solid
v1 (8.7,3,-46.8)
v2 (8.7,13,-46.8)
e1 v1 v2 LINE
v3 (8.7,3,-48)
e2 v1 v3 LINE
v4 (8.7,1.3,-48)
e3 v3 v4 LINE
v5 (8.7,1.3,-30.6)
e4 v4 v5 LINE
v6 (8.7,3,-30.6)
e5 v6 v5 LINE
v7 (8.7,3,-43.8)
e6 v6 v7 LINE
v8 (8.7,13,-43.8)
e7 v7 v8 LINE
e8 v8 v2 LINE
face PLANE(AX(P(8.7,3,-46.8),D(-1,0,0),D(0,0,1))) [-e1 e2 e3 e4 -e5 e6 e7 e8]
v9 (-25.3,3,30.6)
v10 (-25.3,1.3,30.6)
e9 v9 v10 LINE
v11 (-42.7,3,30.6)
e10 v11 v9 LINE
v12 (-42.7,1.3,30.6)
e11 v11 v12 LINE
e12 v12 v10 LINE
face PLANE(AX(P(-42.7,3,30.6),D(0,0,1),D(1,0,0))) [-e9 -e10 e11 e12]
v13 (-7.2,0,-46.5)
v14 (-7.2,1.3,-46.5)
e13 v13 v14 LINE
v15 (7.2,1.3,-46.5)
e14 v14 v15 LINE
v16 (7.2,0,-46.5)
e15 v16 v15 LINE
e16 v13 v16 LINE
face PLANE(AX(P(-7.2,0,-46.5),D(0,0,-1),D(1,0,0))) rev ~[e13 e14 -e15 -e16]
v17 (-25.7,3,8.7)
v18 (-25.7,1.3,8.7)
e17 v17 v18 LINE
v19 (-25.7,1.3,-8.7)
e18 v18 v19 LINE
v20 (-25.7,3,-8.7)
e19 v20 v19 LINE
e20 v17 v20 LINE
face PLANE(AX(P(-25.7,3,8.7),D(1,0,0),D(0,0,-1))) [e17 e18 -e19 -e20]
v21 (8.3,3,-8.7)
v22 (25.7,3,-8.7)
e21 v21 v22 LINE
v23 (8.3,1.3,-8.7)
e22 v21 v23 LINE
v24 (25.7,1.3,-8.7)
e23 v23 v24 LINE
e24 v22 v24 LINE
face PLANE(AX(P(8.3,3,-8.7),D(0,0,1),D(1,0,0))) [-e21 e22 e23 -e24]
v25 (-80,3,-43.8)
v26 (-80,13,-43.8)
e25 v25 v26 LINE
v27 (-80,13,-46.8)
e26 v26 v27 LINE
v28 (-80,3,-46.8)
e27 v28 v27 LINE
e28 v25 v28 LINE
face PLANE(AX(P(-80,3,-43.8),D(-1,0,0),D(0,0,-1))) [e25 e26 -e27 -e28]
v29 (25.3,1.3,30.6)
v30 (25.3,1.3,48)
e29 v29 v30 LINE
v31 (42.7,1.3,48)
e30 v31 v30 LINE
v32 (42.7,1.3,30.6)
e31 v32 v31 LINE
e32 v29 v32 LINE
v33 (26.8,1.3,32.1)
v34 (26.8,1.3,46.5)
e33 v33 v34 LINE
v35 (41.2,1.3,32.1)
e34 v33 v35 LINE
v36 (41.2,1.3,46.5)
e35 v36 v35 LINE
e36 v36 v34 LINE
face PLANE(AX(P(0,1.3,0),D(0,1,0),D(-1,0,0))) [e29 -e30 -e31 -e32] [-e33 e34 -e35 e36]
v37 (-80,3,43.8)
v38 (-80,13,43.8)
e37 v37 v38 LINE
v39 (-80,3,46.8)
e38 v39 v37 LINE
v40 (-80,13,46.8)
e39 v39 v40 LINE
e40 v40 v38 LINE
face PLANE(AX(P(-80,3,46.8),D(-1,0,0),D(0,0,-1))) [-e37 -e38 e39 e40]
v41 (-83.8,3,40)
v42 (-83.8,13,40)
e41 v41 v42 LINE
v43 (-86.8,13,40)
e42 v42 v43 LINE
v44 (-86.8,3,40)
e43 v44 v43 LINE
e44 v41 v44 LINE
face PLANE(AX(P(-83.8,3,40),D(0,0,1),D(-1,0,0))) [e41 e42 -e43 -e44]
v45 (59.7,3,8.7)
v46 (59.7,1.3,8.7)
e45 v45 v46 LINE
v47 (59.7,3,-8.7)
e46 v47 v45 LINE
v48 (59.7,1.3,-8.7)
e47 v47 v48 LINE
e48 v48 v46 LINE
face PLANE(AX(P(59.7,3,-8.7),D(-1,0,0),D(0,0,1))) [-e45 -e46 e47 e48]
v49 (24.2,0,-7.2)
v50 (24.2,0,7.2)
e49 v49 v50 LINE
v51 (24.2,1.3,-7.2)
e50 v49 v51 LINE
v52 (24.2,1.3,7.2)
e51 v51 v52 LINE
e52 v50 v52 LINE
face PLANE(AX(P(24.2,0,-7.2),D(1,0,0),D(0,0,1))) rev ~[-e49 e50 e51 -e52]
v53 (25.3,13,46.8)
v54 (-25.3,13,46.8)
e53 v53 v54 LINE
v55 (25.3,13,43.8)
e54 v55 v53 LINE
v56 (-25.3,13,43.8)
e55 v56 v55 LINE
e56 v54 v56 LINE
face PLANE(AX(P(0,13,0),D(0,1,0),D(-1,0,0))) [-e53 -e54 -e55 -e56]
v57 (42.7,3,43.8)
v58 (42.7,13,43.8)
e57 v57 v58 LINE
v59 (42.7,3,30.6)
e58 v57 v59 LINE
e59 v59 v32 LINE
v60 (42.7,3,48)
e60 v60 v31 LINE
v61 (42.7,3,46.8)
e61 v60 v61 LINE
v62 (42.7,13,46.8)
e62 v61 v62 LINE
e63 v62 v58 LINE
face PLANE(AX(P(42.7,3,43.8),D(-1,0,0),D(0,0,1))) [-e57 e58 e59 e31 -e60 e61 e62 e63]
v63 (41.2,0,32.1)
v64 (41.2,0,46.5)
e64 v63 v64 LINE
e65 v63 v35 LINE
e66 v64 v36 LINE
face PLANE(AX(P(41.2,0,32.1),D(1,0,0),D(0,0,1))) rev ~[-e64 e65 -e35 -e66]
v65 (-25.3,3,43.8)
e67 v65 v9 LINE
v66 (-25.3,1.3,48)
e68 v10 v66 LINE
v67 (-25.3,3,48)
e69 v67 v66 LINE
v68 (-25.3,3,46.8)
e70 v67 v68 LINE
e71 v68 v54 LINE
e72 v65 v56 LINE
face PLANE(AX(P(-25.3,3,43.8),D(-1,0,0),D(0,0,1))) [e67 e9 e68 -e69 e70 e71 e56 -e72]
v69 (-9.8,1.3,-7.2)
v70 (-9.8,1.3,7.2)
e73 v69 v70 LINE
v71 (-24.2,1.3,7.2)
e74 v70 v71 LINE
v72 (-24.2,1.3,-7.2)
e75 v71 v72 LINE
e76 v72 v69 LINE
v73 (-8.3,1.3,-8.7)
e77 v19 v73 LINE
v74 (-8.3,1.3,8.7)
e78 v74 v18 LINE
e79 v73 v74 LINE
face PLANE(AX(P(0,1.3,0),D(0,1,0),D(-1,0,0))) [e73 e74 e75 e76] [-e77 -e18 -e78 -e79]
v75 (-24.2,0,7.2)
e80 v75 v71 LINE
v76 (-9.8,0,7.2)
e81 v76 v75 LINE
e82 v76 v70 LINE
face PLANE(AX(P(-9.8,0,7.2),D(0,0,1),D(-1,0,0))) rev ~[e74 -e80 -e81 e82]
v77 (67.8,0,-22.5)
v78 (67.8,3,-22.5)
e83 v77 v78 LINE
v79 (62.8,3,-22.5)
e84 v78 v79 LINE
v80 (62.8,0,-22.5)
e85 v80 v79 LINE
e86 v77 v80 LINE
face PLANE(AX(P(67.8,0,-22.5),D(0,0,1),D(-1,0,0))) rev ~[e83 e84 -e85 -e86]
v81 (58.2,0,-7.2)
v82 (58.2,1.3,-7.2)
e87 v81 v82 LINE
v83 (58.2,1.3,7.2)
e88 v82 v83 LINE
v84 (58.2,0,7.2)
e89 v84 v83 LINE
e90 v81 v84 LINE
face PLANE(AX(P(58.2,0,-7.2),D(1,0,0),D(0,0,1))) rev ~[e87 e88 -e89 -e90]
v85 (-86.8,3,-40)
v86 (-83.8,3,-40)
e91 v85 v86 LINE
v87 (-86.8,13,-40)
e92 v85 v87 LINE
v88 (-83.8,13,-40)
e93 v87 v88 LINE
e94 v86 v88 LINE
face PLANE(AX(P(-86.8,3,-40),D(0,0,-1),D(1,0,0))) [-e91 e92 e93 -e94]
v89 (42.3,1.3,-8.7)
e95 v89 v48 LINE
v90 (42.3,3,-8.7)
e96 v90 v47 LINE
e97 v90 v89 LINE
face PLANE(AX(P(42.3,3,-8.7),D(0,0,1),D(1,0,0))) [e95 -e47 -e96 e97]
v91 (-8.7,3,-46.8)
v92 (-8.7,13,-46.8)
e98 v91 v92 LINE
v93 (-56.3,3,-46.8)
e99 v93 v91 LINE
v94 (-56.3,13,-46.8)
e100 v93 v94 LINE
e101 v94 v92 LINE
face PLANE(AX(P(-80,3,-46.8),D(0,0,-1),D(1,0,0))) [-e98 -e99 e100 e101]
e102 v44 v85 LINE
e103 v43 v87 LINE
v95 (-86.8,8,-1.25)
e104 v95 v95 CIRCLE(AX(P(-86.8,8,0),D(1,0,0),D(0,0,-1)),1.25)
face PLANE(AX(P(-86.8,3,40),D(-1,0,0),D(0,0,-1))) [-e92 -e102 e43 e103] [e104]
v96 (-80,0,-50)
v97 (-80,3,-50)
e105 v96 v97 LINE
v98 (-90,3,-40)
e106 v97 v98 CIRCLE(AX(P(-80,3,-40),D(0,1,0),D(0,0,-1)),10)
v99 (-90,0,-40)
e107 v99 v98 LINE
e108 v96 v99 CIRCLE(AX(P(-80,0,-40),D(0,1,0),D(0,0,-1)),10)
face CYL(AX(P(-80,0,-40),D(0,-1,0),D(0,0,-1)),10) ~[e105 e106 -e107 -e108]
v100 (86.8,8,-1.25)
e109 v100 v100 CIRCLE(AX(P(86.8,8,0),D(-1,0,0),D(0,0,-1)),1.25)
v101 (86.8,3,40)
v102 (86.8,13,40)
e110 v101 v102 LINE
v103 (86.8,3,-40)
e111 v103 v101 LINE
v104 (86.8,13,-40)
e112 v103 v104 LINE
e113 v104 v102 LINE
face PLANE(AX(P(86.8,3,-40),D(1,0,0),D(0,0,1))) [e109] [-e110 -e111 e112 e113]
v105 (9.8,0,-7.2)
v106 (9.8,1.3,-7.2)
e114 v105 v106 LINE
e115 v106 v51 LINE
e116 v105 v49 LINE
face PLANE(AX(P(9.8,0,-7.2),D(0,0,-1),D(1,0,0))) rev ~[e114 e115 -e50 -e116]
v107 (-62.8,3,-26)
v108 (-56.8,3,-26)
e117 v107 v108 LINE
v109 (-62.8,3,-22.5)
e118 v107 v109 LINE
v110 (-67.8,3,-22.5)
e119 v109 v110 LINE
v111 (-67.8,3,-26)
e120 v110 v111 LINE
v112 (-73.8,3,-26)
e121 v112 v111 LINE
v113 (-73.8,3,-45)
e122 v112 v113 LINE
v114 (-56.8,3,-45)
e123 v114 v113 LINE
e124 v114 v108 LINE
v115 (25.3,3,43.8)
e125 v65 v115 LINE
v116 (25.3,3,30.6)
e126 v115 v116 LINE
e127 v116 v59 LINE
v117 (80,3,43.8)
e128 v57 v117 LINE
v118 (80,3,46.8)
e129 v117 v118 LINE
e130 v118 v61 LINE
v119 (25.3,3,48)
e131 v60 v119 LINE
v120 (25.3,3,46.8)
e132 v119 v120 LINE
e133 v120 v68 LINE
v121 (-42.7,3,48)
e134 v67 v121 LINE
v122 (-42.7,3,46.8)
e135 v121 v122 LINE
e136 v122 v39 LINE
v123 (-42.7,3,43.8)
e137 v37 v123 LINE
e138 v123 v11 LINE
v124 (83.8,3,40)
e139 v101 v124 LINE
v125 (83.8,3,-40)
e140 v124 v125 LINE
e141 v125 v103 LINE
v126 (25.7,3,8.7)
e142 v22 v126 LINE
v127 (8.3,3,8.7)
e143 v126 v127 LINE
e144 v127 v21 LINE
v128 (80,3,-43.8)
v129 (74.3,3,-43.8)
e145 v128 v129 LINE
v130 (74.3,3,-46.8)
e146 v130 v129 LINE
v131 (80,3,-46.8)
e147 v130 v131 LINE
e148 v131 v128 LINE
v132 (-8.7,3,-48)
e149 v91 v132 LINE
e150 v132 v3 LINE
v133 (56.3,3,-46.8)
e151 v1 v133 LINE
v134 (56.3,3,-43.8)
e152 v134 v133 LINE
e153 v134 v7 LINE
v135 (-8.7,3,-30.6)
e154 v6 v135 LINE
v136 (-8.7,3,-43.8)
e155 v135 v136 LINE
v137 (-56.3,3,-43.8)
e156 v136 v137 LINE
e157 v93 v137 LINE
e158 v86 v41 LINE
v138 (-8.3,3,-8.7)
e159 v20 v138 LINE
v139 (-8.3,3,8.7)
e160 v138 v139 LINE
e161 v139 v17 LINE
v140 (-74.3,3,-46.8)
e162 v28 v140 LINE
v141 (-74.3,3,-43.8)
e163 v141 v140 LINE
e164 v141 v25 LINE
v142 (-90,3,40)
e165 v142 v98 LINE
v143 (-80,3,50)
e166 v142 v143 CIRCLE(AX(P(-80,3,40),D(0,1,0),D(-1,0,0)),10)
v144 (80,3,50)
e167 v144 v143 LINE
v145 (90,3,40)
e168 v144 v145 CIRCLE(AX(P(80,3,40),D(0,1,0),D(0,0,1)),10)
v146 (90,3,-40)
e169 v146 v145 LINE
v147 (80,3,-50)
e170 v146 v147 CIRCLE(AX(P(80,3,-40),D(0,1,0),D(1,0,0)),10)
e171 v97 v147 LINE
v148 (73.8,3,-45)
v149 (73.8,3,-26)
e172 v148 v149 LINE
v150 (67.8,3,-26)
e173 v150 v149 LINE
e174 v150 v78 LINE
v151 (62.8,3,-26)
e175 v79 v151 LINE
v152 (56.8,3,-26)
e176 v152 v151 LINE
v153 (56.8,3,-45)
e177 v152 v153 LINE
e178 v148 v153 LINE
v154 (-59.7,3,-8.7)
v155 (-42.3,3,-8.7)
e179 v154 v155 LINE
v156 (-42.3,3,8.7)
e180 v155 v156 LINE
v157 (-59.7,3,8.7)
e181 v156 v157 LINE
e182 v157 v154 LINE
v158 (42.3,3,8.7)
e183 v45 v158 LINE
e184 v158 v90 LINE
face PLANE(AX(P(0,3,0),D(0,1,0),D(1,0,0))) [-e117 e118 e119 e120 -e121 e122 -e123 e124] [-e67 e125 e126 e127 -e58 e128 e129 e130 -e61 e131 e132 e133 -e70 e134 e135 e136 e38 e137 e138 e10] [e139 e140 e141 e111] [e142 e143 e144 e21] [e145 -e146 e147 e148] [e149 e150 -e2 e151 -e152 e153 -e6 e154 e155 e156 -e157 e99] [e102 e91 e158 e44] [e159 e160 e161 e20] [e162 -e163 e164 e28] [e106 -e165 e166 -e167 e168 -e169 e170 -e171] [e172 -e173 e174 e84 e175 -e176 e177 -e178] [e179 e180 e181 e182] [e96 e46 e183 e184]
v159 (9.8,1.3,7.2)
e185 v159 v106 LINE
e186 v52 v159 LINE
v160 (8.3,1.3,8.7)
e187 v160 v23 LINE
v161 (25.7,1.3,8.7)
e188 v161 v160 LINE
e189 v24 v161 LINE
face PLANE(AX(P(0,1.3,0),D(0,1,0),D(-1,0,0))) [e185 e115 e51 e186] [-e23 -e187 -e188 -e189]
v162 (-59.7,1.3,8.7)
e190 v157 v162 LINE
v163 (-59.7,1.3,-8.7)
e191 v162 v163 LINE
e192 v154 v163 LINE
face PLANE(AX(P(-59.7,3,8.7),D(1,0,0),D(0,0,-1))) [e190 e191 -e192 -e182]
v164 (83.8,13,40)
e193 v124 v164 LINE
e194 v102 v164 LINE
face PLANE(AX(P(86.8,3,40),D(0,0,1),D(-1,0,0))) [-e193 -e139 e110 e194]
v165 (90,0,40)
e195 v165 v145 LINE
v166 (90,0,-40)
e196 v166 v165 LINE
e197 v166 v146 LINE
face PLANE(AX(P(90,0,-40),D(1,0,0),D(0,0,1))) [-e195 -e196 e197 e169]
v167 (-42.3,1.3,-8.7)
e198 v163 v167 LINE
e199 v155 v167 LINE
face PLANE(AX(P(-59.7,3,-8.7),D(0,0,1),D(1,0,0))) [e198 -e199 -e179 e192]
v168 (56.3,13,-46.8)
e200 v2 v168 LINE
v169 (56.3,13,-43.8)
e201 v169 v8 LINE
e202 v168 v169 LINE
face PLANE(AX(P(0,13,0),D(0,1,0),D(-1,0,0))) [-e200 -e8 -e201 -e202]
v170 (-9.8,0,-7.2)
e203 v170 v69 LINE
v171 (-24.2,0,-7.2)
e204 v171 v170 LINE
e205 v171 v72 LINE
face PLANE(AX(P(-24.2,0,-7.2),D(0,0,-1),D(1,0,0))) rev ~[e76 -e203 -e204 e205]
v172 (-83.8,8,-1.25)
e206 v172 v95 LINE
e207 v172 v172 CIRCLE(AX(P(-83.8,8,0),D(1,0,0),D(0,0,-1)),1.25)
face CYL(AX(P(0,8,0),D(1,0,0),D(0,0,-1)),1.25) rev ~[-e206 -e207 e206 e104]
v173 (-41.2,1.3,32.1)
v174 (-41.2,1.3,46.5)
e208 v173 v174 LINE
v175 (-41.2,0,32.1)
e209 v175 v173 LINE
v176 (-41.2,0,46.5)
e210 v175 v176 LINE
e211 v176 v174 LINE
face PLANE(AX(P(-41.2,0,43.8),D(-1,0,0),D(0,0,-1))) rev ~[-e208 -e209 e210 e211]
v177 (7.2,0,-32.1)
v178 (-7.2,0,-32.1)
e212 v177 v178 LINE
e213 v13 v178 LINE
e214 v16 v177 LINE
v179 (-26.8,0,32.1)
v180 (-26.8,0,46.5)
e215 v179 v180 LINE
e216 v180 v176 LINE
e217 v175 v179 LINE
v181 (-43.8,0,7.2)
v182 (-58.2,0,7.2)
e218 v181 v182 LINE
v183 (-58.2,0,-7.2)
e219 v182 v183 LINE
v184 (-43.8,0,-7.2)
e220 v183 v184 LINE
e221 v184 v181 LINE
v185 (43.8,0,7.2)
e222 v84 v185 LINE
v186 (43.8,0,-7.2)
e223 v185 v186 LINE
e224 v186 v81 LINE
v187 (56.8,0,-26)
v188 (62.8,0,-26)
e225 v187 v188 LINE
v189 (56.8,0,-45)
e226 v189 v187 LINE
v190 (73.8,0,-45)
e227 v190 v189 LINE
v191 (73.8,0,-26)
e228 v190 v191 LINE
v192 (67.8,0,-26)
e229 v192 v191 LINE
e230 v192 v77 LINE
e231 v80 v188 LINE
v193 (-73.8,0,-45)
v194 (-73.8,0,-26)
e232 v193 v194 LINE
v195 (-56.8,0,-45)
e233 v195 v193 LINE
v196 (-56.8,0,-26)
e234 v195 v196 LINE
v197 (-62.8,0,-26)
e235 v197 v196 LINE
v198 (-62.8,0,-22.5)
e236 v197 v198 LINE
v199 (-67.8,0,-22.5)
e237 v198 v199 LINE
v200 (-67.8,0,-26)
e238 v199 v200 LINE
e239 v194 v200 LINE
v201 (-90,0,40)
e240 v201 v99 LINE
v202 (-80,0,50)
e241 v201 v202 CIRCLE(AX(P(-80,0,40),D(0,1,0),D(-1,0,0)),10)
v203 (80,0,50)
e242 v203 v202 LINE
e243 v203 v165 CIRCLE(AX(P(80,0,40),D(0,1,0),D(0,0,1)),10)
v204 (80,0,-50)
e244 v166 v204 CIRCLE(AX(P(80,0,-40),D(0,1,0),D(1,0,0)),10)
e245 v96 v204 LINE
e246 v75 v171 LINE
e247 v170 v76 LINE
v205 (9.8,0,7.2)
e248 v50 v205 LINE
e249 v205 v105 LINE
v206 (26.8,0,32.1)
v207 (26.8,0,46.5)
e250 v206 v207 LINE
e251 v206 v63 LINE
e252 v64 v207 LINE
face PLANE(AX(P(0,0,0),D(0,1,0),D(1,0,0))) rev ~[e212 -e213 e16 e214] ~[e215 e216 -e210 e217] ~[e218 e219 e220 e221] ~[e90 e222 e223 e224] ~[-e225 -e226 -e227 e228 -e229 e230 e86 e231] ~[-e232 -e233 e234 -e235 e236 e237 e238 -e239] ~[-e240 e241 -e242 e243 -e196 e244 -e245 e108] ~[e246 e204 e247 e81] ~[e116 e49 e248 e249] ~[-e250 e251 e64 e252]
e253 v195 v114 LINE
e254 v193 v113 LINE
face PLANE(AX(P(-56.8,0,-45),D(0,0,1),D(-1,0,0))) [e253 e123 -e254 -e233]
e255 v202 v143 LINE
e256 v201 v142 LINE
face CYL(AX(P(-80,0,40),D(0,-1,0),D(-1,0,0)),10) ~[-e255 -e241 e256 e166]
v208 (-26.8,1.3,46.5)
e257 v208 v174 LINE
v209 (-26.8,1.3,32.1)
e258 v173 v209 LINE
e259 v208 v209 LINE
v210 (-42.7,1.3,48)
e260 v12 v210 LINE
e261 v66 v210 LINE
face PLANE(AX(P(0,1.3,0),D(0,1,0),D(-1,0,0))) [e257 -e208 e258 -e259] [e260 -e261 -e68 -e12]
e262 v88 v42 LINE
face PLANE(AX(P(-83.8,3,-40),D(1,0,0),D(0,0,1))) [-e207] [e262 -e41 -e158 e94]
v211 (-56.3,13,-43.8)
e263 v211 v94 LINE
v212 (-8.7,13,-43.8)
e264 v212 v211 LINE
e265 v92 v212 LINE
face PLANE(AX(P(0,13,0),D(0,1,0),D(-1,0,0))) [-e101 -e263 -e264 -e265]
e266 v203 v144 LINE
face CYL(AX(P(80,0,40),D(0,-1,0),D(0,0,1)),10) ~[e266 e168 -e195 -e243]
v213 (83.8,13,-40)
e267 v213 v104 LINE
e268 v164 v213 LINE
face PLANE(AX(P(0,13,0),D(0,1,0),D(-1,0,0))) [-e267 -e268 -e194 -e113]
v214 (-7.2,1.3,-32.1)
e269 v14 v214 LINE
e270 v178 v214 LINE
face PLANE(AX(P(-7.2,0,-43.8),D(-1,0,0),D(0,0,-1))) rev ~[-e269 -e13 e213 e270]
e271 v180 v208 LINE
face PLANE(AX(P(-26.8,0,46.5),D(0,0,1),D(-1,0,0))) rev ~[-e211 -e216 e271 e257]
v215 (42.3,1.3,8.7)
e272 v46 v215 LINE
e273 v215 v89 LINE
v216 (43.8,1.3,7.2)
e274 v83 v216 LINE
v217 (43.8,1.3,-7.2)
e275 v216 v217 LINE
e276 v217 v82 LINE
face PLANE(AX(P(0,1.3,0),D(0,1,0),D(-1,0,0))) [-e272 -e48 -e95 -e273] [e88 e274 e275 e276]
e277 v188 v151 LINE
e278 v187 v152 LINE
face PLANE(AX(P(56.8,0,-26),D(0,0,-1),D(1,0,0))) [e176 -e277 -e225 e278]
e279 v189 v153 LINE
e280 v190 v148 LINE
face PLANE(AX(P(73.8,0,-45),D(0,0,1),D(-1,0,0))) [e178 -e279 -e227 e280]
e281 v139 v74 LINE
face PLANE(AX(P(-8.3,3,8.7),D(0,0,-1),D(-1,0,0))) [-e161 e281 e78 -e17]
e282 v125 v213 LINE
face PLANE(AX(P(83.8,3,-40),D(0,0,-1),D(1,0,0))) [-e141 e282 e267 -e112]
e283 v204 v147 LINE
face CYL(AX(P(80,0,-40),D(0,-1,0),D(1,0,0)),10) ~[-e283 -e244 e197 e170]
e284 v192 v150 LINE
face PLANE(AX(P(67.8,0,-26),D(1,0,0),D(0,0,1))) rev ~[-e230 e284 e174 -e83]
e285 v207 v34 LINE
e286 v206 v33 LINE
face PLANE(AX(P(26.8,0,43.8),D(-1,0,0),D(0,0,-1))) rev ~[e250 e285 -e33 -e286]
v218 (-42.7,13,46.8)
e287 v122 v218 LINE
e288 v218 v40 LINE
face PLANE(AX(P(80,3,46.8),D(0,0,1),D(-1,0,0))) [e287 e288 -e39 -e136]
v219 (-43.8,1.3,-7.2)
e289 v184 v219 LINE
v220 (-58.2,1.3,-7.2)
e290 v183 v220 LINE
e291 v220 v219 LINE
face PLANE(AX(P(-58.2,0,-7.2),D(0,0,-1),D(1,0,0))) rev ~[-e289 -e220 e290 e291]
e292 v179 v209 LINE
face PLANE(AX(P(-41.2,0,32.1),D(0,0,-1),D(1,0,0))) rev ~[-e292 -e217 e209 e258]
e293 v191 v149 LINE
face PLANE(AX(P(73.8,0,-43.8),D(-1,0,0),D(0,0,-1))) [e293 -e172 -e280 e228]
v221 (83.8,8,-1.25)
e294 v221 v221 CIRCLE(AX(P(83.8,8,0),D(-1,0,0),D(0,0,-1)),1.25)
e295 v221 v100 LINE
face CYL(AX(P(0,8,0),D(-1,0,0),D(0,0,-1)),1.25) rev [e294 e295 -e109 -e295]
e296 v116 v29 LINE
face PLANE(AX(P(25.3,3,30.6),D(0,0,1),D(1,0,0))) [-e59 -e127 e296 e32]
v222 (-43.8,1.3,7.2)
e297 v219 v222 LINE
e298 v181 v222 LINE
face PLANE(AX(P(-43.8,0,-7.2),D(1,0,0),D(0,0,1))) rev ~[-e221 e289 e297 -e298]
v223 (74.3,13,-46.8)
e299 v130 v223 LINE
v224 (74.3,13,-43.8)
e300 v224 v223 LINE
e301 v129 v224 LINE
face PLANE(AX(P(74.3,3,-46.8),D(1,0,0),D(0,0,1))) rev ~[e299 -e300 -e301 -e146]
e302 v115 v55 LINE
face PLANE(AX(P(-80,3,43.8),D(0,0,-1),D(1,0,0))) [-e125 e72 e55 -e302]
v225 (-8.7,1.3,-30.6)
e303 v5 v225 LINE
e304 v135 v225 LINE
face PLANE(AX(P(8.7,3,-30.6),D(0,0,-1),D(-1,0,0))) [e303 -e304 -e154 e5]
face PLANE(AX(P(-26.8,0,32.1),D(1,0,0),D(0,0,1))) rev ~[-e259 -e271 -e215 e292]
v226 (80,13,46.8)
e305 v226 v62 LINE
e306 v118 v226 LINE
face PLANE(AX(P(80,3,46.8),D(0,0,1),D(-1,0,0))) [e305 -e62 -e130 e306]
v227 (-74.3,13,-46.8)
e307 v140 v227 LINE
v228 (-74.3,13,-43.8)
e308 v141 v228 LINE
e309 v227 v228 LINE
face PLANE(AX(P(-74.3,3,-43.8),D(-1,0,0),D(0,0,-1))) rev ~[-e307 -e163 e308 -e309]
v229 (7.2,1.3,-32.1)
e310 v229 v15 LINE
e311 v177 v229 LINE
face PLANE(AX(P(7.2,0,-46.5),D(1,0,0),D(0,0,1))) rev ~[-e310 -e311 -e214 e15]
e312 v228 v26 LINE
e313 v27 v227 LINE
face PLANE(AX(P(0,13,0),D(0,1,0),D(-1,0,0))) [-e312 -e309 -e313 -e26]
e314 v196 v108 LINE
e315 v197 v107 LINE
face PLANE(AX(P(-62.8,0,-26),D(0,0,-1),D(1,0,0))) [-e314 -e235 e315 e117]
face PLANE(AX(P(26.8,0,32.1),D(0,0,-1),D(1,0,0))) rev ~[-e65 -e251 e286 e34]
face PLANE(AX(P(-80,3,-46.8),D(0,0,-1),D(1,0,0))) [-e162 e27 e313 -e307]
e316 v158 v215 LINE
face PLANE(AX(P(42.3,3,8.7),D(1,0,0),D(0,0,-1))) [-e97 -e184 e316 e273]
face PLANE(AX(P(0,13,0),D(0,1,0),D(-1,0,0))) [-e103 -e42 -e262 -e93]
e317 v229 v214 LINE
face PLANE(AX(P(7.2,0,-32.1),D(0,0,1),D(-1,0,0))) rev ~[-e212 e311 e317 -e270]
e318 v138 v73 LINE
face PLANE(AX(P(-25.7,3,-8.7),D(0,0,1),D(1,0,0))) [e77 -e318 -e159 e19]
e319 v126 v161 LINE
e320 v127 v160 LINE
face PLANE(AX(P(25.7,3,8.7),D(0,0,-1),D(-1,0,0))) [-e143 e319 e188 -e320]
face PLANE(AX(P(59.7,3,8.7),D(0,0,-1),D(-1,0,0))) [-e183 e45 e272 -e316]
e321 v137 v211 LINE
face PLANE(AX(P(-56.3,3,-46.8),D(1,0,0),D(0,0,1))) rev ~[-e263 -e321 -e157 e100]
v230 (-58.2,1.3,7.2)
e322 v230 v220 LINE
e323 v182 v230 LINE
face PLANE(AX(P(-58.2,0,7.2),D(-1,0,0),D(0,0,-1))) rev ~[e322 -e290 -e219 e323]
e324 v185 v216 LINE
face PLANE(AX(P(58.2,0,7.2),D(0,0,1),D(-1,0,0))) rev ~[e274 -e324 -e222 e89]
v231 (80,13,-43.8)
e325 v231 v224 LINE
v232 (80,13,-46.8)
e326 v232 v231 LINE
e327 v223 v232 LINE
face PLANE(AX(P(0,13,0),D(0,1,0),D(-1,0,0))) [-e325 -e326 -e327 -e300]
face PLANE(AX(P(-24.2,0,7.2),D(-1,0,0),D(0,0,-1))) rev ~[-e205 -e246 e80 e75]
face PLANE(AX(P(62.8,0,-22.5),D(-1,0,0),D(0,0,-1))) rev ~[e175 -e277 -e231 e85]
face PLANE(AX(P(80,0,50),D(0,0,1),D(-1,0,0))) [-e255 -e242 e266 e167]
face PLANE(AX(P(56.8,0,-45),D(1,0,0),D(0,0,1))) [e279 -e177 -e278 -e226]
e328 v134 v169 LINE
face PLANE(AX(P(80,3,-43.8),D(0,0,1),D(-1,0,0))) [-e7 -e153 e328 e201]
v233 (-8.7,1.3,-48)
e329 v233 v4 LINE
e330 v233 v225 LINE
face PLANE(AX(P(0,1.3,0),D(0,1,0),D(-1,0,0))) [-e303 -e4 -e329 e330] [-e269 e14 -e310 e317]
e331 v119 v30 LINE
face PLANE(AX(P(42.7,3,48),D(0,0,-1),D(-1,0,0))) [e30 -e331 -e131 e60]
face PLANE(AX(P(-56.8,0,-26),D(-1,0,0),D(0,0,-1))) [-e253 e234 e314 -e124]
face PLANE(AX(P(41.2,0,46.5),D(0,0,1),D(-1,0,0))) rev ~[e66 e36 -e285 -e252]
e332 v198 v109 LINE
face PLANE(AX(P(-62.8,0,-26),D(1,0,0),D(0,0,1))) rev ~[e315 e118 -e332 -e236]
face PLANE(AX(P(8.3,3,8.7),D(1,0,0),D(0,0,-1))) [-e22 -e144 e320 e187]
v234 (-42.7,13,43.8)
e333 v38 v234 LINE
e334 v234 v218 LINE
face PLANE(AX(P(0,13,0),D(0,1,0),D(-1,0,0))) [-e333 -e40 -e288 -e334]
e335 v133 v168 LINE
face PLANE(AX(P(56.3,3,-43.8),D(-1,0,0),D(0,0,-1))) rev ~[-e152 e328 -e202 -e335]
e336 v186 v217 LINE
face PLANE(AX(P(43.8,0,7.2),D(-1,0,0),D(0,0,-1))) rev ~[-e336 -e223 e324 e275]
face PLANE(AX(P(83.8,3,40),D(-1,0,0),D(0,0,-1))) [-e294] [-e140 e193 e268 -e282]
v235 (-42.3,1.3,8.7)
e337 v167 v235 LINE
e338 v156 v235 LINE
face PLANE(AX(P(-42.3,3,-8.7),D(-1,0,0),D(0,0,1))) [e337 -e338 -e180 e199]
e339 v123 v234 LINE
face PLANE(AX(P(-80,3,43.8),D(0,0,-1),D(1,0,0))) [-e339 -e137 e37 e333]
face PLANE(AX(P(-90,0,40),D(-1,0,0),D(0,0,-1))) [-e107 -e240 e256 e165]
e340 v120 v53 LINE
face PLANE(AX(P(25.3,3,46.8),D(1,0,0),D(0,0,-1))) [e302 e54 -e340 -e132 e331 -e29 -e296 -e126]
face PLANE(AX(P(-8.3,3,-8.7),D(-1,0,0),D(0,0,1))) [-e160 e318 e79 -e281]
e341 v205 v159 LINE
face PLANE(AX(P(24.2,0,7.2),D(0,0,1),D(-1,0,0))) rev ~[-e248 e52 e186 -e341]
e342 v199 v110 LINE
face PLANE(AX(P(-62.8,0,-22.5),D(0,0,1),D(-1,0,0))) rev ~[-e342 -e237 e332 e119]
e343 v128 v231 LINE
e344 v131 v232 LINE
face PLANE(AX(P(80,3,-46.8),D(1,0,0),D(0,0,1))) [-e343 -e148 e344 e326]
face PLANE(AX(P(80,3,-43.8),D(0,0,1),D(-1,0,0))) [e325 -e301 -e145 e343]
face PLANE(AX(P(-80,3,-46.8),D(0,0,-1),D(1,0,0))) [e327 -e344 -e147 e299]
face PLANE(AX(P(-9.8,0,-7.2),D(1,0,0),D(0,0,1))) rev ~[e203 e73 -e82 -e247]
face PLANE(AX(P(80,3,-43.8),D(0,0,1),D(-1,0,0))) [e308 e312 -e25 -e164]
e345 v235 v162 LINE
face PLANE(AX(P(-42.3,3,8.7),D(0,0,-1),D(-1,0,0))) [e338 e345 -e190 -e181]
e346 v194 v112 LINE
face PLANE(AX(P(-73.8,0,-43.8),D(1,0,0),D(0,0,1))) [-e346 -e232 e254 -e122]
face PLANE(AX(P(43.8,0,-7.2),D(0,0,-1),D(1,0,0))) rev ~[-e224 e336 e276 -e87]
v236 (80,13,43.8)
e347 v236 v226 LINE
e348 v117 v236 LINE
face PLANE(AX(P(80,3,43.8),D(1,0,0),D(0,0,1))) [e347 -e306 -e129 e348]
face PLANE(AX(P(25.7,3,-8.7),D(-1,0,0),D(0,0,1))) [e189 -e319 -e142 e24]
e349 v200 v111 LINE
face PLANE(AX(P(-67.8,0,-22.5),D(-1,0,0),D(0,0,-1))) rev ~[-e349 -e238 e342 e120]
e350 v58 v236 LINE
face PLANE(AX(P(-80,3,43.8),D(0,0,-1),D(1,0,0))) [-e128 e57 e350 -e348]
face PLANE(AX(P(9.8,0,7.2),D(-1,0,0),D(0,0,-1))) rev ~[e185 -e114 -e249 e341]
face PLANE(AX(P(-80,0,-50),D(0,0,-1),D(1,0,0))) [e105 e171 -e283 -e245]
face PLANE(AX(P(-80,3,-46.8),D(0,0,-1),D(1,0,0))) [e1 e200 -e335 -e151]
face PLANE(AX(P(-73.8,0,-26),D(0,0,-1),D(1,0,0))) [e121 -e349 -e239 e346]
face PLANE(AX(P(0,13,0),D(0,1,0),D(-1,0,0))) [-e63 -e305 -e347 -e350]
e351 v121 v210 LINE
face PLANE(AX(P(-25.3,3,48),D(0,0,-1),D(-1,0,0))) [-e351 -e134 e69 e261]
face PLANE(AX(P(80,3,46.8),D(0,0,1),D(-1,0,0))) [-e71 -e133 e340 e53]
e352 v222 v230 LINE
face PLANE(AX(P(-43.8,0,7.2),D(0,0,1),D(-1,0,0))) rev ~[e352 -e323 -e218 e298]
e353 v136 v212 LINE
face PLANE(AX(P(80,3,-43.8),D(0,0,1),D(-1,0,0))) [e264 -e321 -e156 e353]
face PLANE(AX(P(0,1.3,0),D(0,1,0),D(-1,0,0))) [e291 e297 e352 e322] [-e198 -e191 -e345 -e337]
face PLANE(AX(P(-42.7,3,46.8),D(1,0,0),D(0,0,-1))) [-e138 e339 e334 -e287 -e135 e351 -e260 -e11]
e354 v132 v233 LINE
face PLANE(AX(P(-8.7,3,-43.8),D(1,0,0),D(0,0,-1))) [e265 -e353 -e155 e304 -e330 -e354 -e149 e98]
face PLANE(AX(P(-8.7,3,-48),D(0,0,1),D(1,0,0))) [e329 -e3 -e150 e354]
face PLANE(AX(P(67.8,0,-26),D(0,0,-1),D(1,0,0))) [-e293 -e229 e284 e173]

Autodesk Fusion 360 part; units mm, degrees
sketch "Top" plane through (0, 0, 0) normal (0, 1, 0) x (1, 0, 0)
  line L0 (-80, 50) -> (80, 50)
  line L1 (90, 40) -> (90, -40)
  line L2 (80, -50) -> (-80, -50)
  line L3 (-90, -40) -> (-90, 40)
  line L4 (-90, 50) -> (90, -50) construction
  line L5 (90, 50) -> (-90, -50) construction
  arc A0 (-80, 50) -> (-90, 40) centre (-80, 40) ccw
  arc A1 (90, 40) -> (80, 50) centre (80, 40) ccw
  arc A2 (80, -50) -> (90, -40) centre (80, -40) ccw
  arc A3 (-90, -40) -> (-80, -50) centre (-80, -40) ccw
  dimension "d310" = 180
  dimension "d311" = 100
  dimension "d312" = 10
extrude "Extrude37" add sketch "Top" along normal blind 3
sketch "Tabs" plane through (0, 3, 0) normal (0, 1, 0) x (-1, 0, 0)
  arc A0 (80, -50) -> (90, -40) centre (80, -40) ccw
  line L0 (90, -40) -> (90, 40)
  arc A1 (90, 40) -> (80, 50) centre (80, 40) ccw
  line L1 (80, 50) -> (-80, 50)
  arc A2 (-80, 50) -> (-90, 40) centre (-80, 40) ccw
  line L2 (-90, 40) -> (-90, -40)
  arc A3 (-90, -40) -> (-80, -50) centre (-80, -40) ccw
  line L3 (-80, -50) -> (80, -50)
  line L4 (86.8, -40) -> (83.8, -40)
  line L5 (83.8, -40) -> (83.8, 40)
  line L6 (83.8, 40) -> (86.8, 40)
  line L7 (86.8, 40) -> (86.8, -40)
  line L8 (86.8, -40) -> (83.8, 40) construction
  line L9 (83.8, -40) -> (86.8, 40) construction
  line L10 (80, -46.8) -> (-80, -46.8)
  line L11 (-80, -46.8) -> (-80, -43.8)
  line L12 (-80, -43.8) -> (80, -43.8)
  line L13 (80, -43.8) -> (80, -46.8)
  line L14 (80, -46.8) -> (-80, -43.8) construction
  line L15 (-80, -46.8) -> (80, -43.8) construction
  line L16 (80, 43.8) -> (-80, 43.8)
  line L17 (-80, 43.8) -> (-80, 46.8)
  line L18 (-80, 46.8) -> (80, 46.8)
  line L19 (80, 46.8) -> (80, 43.8)
  line L20 (80, 43.8) -> (-80, 46.8) construction
  line L21 (-80, 43.8) -> (80, 46.8) construction
  line L22 (-83.8, -40) -> (-86.8, -40)
  line L23 (-86.8, -40) -> (-86.8, 40)
  line L24 (-86.8, 40) -> (-83.8, 40)
  line L25 (-83.8, 40) -> (-83.8, -40)
  line L26 (-83.8, -40) -> (-86.8, 40) construction
  line L27 (-86.8, -40) -> (-83.8, 40) construction
  point P0 (85.3, 0)
  point P1 (0, -45.3)
  point P2 (0, 45.3)
  point P3 (-85.3, 0)
  dimension "d315" = 3
  dimension "d316" = 10
  dimension "d317" = 10
  dimension "d318" = 3.2
  dimension "d319" = 3
  dimension "d320" = 10
  dimension "d321" = 10
  dimension "d322" = 3.2
  dimension "d324" = 3
  dimension "d325" = 10
  dimension "d326" = 10
  dimension "d327" = 3
  dimension "d329" = 10
  dimension "d330" = 10
  dimension "d333" = 3.2
  dimension "d334" = 3.2
extrude "Extrude38" add sketch "Tabs" along normal blind 10 contours L4 L5 L6 L7 | L10 L11 L12 L13 | L16 L17 L18 L19 | L22 L23 L24 L25
sketch "Switches" plane through (0, 3, 0) normal (0, 1, 0) x (-1, 0, 0)
  line L0 (86.8, 40) -> (86.8, -40)
  line L1 (86.8, -40) -> (83.8, -40)
  line L2 (83.8, -40) -> (83.8, 40)
  line L3 (83.8, 40) -> (86.8, 40)
  line L4 (80, -43.8) -> (80, -46.8)
  line L5 (80, -46.8) -> (-80, -46.8)
  line L6 (-80, -46.8) -> (-80, -43.8)
  line L7 (-80, -43.8) -> (80, -43.8)
  line L8 (80, 46.8) -> (80, 43.8)
  line L9 (80, 43.8) -> (-80, 43.8)
  line L10 (-80, 43.8) -> (-80, 46.8)
  line L11 (-80, 46.8) -> (80, 46.8)
  line L12 (-83.8, 40) -> (-83.8, -40)
  line L13 (-83.8, -40) -> (-86.8, -40)
  line L14 (-86.8, -40) -> (-86.8, 40)
  line L15 (-86.8, 40) -> (-83.8, 40)
  arc A0 (80, -50) -> (90, -40) centre (80, -40) ccw
  line L16 (90, -40) -> (90, 40)
  arc A1 (90, 40) -> (80, 50) centre (80, 40) ccw
  line L17 (80, 50) -> (-80, 50)
  arc A2 (-80, 50) -> (-90, 40) centre (-80, 40) ccw
  line L18 (-90, 40) -> (-90, -40)
  arc A3 (-90, -40) -> (-80, -50) centre (-80, -40) ccw
  line L19 (-80, -50) -> (80, -50)
  line L20 (-59.7, 8.7) -> (-42.3, 8.7)
  line L21 (-42.3, 8.7) -> (-42.3, -8.7)
  line L22 (-58.2, -7.2) -> (-58.2, 7.2)
  line L23 (-42.3, -8.7) -> (-59.7, -8.7)
  line L24 (-43.8, 7.2) -> (-43.8, -7.2)
  line L25 (-58.2, 7.2) -> (-43.8, 7.2)
  line L26 (-43.8, -7.2) -> (-58.2, 7.2) construction
  line L27 (-59.7, -8.7) -> (-59.7, 8.7)
  line L28 (-59.7, -8.7) -> (-42.3, 8.7) construction
  line L29 (-58.2, -7.2) -> (-43.8, 7.2) construction
  line L30 (-42.3, -8.7) -> (-59.7, 8.7) construction
  line L31 (-43.8, -7.2) -> (-58.2, -7.2)
  line L32 (24.2, 7.2) -> (24.2, -7.2)
  line L33 (8.3, -8.7) -> (8.3, 8.7)
  line L34 (25.7, -8.7) -> (8.3, 8.7) construction
  line L35 (9.8, 7.2) -> (24.2, 7.2)
  line L36 (24.2, -7.2) -> (9.8, 7.2) construction
  line L37 (8.3, -8.7) -> (25.7, 8.7) construction
  line L38 (9.8, -7.2) -> (24.2, 7.2) construction
  line L39 (24.2, -7.2) -> (9.8, -7.2)
  line L40 (25.7, 8.7) -> (25.7, -8.7)
  line L41 (9.8, -7.2) -> (9.8, 7.2)
  line L42 (25.7, -8.7) -> (8.3, -8.7)
  line L43 (8.3, 8.7) -> (25.7, 8.7)
  line L44 (-26.8, 32.1) -> (-41.2, 46.5) construction
  line L45 (-41.2, 46.5) -> (-26.8, 46.5)
  line L46 (-25.3, 30.6) -> (-42.7, 30.6)
  line L47 (-42.7, 48) -> (-25.3, 48)
  line L48 (-41.2, 32.1) -> (-41.2, 46.5)
  line L49 (-25.3, 48) -> (-25.3, 30.6)
  line L50 (-42.7, 30.6) -> (-42.7, 48)
  line L51 (-25.3, 30.6) -> (-42.7, 48) construction
  line L52 (-26.8, 32.1) -> (-41.2, 32.1)
  line L53 (-41.2, 32.1) -> (-26.8, 46.5) construction
  line L54 (-42.7, 30.6) -> (-25.3, 48) construction
  line L55 (-26.8, 46.5) -> (-26.8, 32.1)
  line L56 (25.3, 30.6) -> (42.7, 48) construction
  line L57 (26.8, 46.5) -> (41.2, 46.5)
  line L58 (42.7, 48) -> (42.7, 30.6)
  line L59 (26.8, 32.1) -> (41.2, 46.5) construction
  line L60 (41.2, 32.1) -> (26.8, 32.1)
  line L61 (25.3, 30.6) -> (25.3, 48)
  line L62 (41.2, 46.5) -> (41.2, 32.1)
  line L63 (25.3, 48) -> (42.7, 48)
  line L64 (42.7, 30.6) -> (25.3, 48) construction
  line L65 (42.7, 30.6) -> (25.3, 30.6)
  line L66 (26.8, 32.1) -> (26.8, 46.5)
  line L67 (41.2, 32.1) -> (26.8, 46.5) construction
  line L68 (-8.7, -48) -> (-8.7, -30.6)
  line L69 (-7.2, -46.5) -> (-7.2, -32.1)
  line L70 (7.2, -32.1) -> (7.2, -46.5)
  line L71 (-7.2, -46.5) -> (7.2, -32.1) construction
  line L72 (8.7, -30.6) -> (8.7, -48)
  line L73 (8.7, -48) -> (-8.7, -48)
  line L74 (7.2, -46.5) -> (-7.2, -32.1) construction
  line L75 (8.7, -48) -> (-8.7, -30.6) construction
  line L76 (-8.7, -48) -> (8.7, -30.6) construction
  line L77 (-8.7, -30.6) -> (8.7, -30.6)
  line L78 (7.2, -46.5) -> (-7.2, -46.5)
  line L79 (-7.2, -32.1) -> (7.2, -32.1)
  line L80 (42.3, -8.7) -> (42.3, 8.7)
  line L81 (43.8, 7.2) -> (58.2, 7.2)
  line L82 (42.3, 8.7) -> (59.7, 8.7)
  line L83 (59.7, -8.7) -> (42.3, -8.7)
  line L84 (58.2, -7.2) -> (43.8, -7.2)
  line L85 (58.2, 7.2) -> (58.2, -7.2)
  line L86 (42.3, -8.7) -> (59.7, 8.7) construction
  line L87 (59.7, -8.7) -> (42.3, 8.7) construction
  line L88 (43.8, -7.2) -> (43.8, 7.2)
  line L89 (43.8, -7.2) -> (58.2, 7.2) construction
  line L90 (58.2, -7.2) -> (43.8, 7.2) construction
  line L91 (59.7, 8.7) -> (59.7, -8.7)
  line L92 (-25.7, 8.7) -> (-8.3, 8.7)
  line L93 (-25.7, -8.7) -> (-8.3, 8.7) construction
  line L94 (-25.7, -8.7) -> (-25.7, 8.7)
  line L95 (-9.8, 7.2) -> (-9.8, -7.2)
  line L96 (-9.8, -7.2) -> (-24.2, -7.2)
  line L97 (-8.3, -8.7) -> (-25.7, 8.7) construction
  line L98 (-24.2, -7.2) -> (-9.8, 7.2) construction
  line L99 (-8.3, -8.7) -> (-25.7, -8.7)
  line L100 (-24.2, -7.2) -> (-24.2, 7.2)
  line L101 (-9.8, -7.2) -> (-24.2, 7.2) construction
  line L102 (-8.3, 8.7) -> (-8.3, -8.7)
  line L103 (-24.2, 7.2) -> (-9.8, 7.2)
  line L104 (80, 50) -> (-80, 50)
  point P0 (-51, 0)
  point P1 (17, 0)
  point P2 (-34, 39.3)
  point P3 (34, 39.3)
  point P4 (0, -39.3)
  point P5 (51, 0)
  point P6 (-17, 0)
  dimension "d345" = 14.4
  dimension "d346" = 14.4
  dimension "d347" = 1.5
  dimension "d348" = 1.5
  dimension "d349" = 1.5
  dimension "d350" = 1.5
  dimension "d363" = 14.4
  dimension "d364" = 14.4
  dimension "d365" = 1.5
  dimension "d366" = 1.5
  dimension "d367" = 1.5
  dimension "d368" = 1.5
  dimension "d369" = 14.4
  dimension "d370" = 14.4
  dimension "d371" = 1.5
  dimension "d372" = 1.5
  dimension "d373" = 1.5
  dimension "d374" = 1.5
  dimension "d375" = 14.4
  dimension "d376" = 14.4
  dimension "d377" = 1.5
  dimension "d378" = 1.5
  dimension "d379" = 1.5
  dimension "d380" = 1.5
  dimension "d381" = 14.4
  dimension "d382" = 14.4
  dimension "d383" = 1.5
  dimension "d384" = 1.5
  dimension "d385" = 1.5
  dimension "d386" = 1.5
  dimension "d387" = 14.4
  dimension "d388" = 14.4
  dimension "d389" = 1.5
  dimension "d390" = 1.5
  dimension "d391" = 1.5
  dimension "d392" = 1.5
  dimension "d393" = 14.4
  dimension "d394" = 14.4
  dimension "d395" = 1.5
  dimension "d396" = 1.5
  dimension "d397" = 1.5
  dimension "d398" = 1.5
  dimension "d406" = 34
  dimension "d407" = 34
  dimension "d408" = 34
  dimension "d409" = 17
  dimension "d445" = 2
  dimension "d446" = 2
  dimension "d447" = 2
  dimension "d459" = 17
  dimension "d460" = 17
extrude "Extrude40" cut sketch "Switches" against normal blind 1.7 contours L5 L7 L68 L69 L70 L72 L78 | L7 L68 L69 L70 L72 L77 L79 | L5 L68 L72 L73 | L9 L11 L57 L58 L61 L62 L66 | L11 L58 L61 L63 | L9 L58 L60 L61 L62 L65 L66 | L9 L11 L45 L48 L49 L50 L55 | L11 L47 L49 L50 | L9 L46 L48 L49 L50 L52 L55 | L20 L21 L23 L27 | L33 L40 L42 L43 | L80 L82 L83 L91 | L92 L94 L99 L102
extrude "Extrude41" cut sketch "Switches" along normal blind 3 from surface at -3 contours L7 L69 L70 L78 | L7 L69 L70 L79 | L9 L60 L62 L66 | L9 L57 L62 L66 | L9 L48 L52 L55 | L9 L45 L48 L55 | L22 L24 L25 L31 | L32 L35 L39 L41 | L81 L84 L85 L88 | L95 L96 L100 L103
sketch "Tab Holes" plane through (0, 0, 0) normal (1, 0, 0) x (0, 0, -1)
  circle A0 centre (0, 8) radius 1.25
  line L0 (-40, 3) -> (40, 3)
  dimension "d418" = 2.5
  dimension "d419" = 5
extrude "Extrude42" cut sketch "Tab Holes" along normal through all and the other way through all
sketch "Encoders" plane through (0, 3, 0) normal (0, 1, 0) x (-1, 0, 0)
  line L0 (73.8, -26) -> (56.8, -26)
  line L1 (56.8, -26) -> (56.8, -45)
  line L2 (56.8, -45) -> (73.8, -45)
  line L3 (73.8, -45) -> (73.8, -26)
  line L4 (73.8, -26) -> (56.8, -45) construction
  line L5 (56.8, -26) -> (73.8, -45) construction
  line L6 (67.8, -26) -> (62.8, -26)
  line L7 (62.8, -26) -> (62.8, -22.5)
  line L8 (62.8, -22.5) -> (67.8, -22.5)
  line L9 (67.8, -22.5) -> (67.8, -26)
  arc A0 (80, -50) -> (90, -40) centre (80, -40) ccw
  line L10 (90, -40) -> (90, 40)
  arc A1 (90, 40) -> (80, 50) centre (80, 40) ccw
  line L11 (80, 50) -> (-80, 50)
  arc A2 (-80, 50) -> (-90, 40) centre (-80, 40) ccw
  line L12 (-90, 40) -> (-90, -40)
  arc A3 (-90, -40) -> (-80, -50) centre (-80, -40) ccw
  line L13 (-80, -50) -> (80, -50)
  line L14 (-83.8, 40) -> (-83.8, -40)
  line L15 (-83.8, -40) -> (-86.8, -40)
  line L16 (-86.8, -40) -> (-86.8, 40)
  line L17 (-86.8, 40) -> (-83.8, 40)
  line L18 (80, 46.8) -> (80, 43.8)
  line L19 (80, 43.8) -> (42.7, 43.8)
  line L20 (-80, 43.8) -> (-80, 46.8)
  line L21 (-25.3, 46.8) -> (25.3, 46.8)
  line L22 (80, -43.8) -> (80, -46.8)
  line L23 (-8.7, -46.8) -> (-80, -46.8)
  line L24 (-80, -46.8) -> (-80, -43.8)
  line L25 (-80, -43.8) -> (-8.7, -43.8)
  line L26 (86.8, 40) -> (86.8, -40)
  line L27 (86.8, -40) -> (83.8, -40)
  line L28 (83.8, -40) -> (83.8, 40)
  line L29 (83.8, 40) -> (86.8, 40)
  line L30 (25.3, 48) -> (42.7, 48)
  line L31 (42.7, 48) -> (42.7, 46.8)
  line L32 (42.7, 30.6) -> (25.3, 30.6)
  line L33 (25.3, 46.8) -> (25.3, 48)
  line L34 (8.7, -48) -> (-8.7, -48)
  line L35 (-8.7, -48) -> (-8.7, -46.8)
  line L36 (-8.7, -30.6) -> (8.7, -30.6)
  line L37 (8.7, -30.6) -> (8.7, -43.8)
  line L38 (25.7, -8.7) -> (8.3, -8.7)
  line L39 (8.3, -8.7) -> (8.3, 8.7)
  line L40 (8.3, 8.7) -> (25.7, 8.7)
  line L41 (25.7, 8.7) -> (25.7, -8.7)
  line L42 (-25.3, 48) -> (-25.3, 46.8)
  line L43 (-25.3, 30.6) -> (-42.7, 30.6)
  line L44 (-42.7, 46.8) -> (-42.7, 48)
  line L45 (-42.7, 48) -> (-25.3, 48)
  line L46 (-25.7, -8.7) -> (-25.7, 8.7)
  line L47 (-25.7, 8.7) -> (-8.3, 8.7)
  line L48 (-8.3, 8.7) -> (-8.3, -8.7)
  line L49 (-8.3, -8.7) -> (-25.7, -8.7)
  line L50 (42.3, -8.7) -> (42.3, 8.7)
  line L51 (42.3, 8.7) -> (59.7, 8.7)
  line L52 (59.7, 8.7) -> (59.7, -8.7)
  line L53 (59.7, -8.7) -> (42.3, -8.7)
  line L54 (-42.3, 8.7) -> (-42.3, -8.7)
  line L55 (-42.3, -8.7) -> (-59.7, -8.7)
  line L56 (-59.7, -8.7) -> (-59.7, 8.7)
  line L57 (-59.7, 8.7) -> (-42.3, 8.7)
  line L58 (-56.8, -26) -> (-73.8, -26)
  line L59 (-67.8, -22.5) -> (-62.8, -22.5)
  line L60 (-73.8, -45) -> (-56.8, -45)
  line L61 (-67.8, -26) -> (-67.8, -22.5)
  line L62 (-73.8, -26) -> (-73.8, -45)
  line L63 (-62.8, -22.5) -> (-62.8, -26)
  line L64 (-56.8, -26) -> (-73.8, -45) construction
  line L65 (-73.8, -26) -> (-56.8, -45) construction
  line L66 (-56.8, -45) -> (-56.8, -26)
  line L67 (-62.8, -26) -> (-67.8, -26)
  line L68 (42.7, 46.8) -> (80, 46.8)
  line L69 (42.7, 43.8) -> (42.7, 30.6)
  line L70 (25.3, 30.6) -> (25.3, 43.8)
  line L71 (25.3, 43.8) -> (-25.3, 43.8)
  line L72 (-25.3, 43.8) -> (-25.3, 30.6)
  line L73 (-42.7, 30.6) -> (-42.7, 43.8)
  line L74 (-42.7, 43.8) -> (-80, 43.8)
  line L75 (-80, 46.8) -> (-42.7, 46.8)
  line L76 (-8.7, -43.8) -> (-8.7, -30.6)
  line L77 (8.7, -43.8) -> (80, -43.8)
  line L78 (80, -46.8) -> (8.7, -46.8)
  line L79 (8.7, -46.8) -> (8.7, -48)
  line L80 (56.3, -43.8) -> (74.3, -43.8)
  line L81 (74.3, -43.8) -> (74.3, -46.8)
  line L82 (74.3, -46.8) -> (56.3, -46.8)
  line L83 (56.3, -46.8) -> (56.3, -43.8)
  line L84 (-74.3, -43.8) -> (-56.3, -43.8)
  line L85 (-56.3, -43.8) -> (-56.3, -46.8)
  line L86 (-56.3, -46.8) -> (-74.3, -46.8)
  line L87 (-74.3, -46.8) -> (-74.3, -43.8)
  point P0 (65.3, -35.5)
  point P1 (-65.3, -35.5)
  dimension "d421" = 17
  dimension "d422" = 19
  dimension "d423" = 5
  dimension "d424" = 3.5
  dimension "d425" = 2.5
  dimension "d431" = 17
  dimension "d432" = 19
  dimension "d433" = 5
  dimension "d434" = 3.5
  dimension "d435" = 2.5
  dimension "d437" = 10
  dimension "d439" = 10
  dimension "d443" = 5
  dimension "d444" = 5
  dimension "d461" = 18
  dimension "d462" = 3
  dimension "d463" = 0.5
  dimension "d464" = 18
  dimension "d465" = 3
  dimension "d466" = 0.5
extrude "Extrude43" cut sketch "Encoders" along normal blind 3 from surface at -3 contours L0 L1 L3 L6 L77 L80 | L0 L6 L7 L8 L9 | L1 L2 L3 L77 L80
extrude "Extrude44" cut sketch "Encoders" along normal blind 3 from surface at -3 contours L25 L60 L62 L66 L84 | L25 L58 L62 L66 L67 L84 | L58 L59 L61 L63 L67
extrude "Extrude47" cut sketch "Switches" along normal through all contours L9 L11 L45 L48 L49 L50 L55 | L9 L45 L48 L55
extrude "Extrude48" cut sketch "Switches" along normal through all contours L9 L11 L57 L58 L61 L62 L66 | L9 L57 L62 L66
extrude "Extrude49" cut sketch "Switches" along normal through all contours L5 L7 L68 L69 L70 L72 L78 | L7 L69 L70 L78
extrude "Extrude50" cut sketch "Encoders" along normal through all contours L1 L2 L3 L77 L78 L80 L81 L82 L83 | L1 L2 L3 L77 L80 | L23 L25 L60 L62 L66 L84 L85 L86 L87 | L25 L60 L62 L66 L84
equation "d409 = ( 34 / 2 ) * 1 mm"
equation "d413 = -( 3 mm - 1.3 mm )"
equation "d419 = ( 10 / 2 ) * 1 mm"
equation "d425 = ( 5 / 2 ) * 1 mm"
equation "d435 = ( 5 / 2 ) * 1 mm"
equation "d459 = ( 34 / 2 ) * 1 mm"
equation "d460 = ( 34 / 2 ) * 1 mm"
